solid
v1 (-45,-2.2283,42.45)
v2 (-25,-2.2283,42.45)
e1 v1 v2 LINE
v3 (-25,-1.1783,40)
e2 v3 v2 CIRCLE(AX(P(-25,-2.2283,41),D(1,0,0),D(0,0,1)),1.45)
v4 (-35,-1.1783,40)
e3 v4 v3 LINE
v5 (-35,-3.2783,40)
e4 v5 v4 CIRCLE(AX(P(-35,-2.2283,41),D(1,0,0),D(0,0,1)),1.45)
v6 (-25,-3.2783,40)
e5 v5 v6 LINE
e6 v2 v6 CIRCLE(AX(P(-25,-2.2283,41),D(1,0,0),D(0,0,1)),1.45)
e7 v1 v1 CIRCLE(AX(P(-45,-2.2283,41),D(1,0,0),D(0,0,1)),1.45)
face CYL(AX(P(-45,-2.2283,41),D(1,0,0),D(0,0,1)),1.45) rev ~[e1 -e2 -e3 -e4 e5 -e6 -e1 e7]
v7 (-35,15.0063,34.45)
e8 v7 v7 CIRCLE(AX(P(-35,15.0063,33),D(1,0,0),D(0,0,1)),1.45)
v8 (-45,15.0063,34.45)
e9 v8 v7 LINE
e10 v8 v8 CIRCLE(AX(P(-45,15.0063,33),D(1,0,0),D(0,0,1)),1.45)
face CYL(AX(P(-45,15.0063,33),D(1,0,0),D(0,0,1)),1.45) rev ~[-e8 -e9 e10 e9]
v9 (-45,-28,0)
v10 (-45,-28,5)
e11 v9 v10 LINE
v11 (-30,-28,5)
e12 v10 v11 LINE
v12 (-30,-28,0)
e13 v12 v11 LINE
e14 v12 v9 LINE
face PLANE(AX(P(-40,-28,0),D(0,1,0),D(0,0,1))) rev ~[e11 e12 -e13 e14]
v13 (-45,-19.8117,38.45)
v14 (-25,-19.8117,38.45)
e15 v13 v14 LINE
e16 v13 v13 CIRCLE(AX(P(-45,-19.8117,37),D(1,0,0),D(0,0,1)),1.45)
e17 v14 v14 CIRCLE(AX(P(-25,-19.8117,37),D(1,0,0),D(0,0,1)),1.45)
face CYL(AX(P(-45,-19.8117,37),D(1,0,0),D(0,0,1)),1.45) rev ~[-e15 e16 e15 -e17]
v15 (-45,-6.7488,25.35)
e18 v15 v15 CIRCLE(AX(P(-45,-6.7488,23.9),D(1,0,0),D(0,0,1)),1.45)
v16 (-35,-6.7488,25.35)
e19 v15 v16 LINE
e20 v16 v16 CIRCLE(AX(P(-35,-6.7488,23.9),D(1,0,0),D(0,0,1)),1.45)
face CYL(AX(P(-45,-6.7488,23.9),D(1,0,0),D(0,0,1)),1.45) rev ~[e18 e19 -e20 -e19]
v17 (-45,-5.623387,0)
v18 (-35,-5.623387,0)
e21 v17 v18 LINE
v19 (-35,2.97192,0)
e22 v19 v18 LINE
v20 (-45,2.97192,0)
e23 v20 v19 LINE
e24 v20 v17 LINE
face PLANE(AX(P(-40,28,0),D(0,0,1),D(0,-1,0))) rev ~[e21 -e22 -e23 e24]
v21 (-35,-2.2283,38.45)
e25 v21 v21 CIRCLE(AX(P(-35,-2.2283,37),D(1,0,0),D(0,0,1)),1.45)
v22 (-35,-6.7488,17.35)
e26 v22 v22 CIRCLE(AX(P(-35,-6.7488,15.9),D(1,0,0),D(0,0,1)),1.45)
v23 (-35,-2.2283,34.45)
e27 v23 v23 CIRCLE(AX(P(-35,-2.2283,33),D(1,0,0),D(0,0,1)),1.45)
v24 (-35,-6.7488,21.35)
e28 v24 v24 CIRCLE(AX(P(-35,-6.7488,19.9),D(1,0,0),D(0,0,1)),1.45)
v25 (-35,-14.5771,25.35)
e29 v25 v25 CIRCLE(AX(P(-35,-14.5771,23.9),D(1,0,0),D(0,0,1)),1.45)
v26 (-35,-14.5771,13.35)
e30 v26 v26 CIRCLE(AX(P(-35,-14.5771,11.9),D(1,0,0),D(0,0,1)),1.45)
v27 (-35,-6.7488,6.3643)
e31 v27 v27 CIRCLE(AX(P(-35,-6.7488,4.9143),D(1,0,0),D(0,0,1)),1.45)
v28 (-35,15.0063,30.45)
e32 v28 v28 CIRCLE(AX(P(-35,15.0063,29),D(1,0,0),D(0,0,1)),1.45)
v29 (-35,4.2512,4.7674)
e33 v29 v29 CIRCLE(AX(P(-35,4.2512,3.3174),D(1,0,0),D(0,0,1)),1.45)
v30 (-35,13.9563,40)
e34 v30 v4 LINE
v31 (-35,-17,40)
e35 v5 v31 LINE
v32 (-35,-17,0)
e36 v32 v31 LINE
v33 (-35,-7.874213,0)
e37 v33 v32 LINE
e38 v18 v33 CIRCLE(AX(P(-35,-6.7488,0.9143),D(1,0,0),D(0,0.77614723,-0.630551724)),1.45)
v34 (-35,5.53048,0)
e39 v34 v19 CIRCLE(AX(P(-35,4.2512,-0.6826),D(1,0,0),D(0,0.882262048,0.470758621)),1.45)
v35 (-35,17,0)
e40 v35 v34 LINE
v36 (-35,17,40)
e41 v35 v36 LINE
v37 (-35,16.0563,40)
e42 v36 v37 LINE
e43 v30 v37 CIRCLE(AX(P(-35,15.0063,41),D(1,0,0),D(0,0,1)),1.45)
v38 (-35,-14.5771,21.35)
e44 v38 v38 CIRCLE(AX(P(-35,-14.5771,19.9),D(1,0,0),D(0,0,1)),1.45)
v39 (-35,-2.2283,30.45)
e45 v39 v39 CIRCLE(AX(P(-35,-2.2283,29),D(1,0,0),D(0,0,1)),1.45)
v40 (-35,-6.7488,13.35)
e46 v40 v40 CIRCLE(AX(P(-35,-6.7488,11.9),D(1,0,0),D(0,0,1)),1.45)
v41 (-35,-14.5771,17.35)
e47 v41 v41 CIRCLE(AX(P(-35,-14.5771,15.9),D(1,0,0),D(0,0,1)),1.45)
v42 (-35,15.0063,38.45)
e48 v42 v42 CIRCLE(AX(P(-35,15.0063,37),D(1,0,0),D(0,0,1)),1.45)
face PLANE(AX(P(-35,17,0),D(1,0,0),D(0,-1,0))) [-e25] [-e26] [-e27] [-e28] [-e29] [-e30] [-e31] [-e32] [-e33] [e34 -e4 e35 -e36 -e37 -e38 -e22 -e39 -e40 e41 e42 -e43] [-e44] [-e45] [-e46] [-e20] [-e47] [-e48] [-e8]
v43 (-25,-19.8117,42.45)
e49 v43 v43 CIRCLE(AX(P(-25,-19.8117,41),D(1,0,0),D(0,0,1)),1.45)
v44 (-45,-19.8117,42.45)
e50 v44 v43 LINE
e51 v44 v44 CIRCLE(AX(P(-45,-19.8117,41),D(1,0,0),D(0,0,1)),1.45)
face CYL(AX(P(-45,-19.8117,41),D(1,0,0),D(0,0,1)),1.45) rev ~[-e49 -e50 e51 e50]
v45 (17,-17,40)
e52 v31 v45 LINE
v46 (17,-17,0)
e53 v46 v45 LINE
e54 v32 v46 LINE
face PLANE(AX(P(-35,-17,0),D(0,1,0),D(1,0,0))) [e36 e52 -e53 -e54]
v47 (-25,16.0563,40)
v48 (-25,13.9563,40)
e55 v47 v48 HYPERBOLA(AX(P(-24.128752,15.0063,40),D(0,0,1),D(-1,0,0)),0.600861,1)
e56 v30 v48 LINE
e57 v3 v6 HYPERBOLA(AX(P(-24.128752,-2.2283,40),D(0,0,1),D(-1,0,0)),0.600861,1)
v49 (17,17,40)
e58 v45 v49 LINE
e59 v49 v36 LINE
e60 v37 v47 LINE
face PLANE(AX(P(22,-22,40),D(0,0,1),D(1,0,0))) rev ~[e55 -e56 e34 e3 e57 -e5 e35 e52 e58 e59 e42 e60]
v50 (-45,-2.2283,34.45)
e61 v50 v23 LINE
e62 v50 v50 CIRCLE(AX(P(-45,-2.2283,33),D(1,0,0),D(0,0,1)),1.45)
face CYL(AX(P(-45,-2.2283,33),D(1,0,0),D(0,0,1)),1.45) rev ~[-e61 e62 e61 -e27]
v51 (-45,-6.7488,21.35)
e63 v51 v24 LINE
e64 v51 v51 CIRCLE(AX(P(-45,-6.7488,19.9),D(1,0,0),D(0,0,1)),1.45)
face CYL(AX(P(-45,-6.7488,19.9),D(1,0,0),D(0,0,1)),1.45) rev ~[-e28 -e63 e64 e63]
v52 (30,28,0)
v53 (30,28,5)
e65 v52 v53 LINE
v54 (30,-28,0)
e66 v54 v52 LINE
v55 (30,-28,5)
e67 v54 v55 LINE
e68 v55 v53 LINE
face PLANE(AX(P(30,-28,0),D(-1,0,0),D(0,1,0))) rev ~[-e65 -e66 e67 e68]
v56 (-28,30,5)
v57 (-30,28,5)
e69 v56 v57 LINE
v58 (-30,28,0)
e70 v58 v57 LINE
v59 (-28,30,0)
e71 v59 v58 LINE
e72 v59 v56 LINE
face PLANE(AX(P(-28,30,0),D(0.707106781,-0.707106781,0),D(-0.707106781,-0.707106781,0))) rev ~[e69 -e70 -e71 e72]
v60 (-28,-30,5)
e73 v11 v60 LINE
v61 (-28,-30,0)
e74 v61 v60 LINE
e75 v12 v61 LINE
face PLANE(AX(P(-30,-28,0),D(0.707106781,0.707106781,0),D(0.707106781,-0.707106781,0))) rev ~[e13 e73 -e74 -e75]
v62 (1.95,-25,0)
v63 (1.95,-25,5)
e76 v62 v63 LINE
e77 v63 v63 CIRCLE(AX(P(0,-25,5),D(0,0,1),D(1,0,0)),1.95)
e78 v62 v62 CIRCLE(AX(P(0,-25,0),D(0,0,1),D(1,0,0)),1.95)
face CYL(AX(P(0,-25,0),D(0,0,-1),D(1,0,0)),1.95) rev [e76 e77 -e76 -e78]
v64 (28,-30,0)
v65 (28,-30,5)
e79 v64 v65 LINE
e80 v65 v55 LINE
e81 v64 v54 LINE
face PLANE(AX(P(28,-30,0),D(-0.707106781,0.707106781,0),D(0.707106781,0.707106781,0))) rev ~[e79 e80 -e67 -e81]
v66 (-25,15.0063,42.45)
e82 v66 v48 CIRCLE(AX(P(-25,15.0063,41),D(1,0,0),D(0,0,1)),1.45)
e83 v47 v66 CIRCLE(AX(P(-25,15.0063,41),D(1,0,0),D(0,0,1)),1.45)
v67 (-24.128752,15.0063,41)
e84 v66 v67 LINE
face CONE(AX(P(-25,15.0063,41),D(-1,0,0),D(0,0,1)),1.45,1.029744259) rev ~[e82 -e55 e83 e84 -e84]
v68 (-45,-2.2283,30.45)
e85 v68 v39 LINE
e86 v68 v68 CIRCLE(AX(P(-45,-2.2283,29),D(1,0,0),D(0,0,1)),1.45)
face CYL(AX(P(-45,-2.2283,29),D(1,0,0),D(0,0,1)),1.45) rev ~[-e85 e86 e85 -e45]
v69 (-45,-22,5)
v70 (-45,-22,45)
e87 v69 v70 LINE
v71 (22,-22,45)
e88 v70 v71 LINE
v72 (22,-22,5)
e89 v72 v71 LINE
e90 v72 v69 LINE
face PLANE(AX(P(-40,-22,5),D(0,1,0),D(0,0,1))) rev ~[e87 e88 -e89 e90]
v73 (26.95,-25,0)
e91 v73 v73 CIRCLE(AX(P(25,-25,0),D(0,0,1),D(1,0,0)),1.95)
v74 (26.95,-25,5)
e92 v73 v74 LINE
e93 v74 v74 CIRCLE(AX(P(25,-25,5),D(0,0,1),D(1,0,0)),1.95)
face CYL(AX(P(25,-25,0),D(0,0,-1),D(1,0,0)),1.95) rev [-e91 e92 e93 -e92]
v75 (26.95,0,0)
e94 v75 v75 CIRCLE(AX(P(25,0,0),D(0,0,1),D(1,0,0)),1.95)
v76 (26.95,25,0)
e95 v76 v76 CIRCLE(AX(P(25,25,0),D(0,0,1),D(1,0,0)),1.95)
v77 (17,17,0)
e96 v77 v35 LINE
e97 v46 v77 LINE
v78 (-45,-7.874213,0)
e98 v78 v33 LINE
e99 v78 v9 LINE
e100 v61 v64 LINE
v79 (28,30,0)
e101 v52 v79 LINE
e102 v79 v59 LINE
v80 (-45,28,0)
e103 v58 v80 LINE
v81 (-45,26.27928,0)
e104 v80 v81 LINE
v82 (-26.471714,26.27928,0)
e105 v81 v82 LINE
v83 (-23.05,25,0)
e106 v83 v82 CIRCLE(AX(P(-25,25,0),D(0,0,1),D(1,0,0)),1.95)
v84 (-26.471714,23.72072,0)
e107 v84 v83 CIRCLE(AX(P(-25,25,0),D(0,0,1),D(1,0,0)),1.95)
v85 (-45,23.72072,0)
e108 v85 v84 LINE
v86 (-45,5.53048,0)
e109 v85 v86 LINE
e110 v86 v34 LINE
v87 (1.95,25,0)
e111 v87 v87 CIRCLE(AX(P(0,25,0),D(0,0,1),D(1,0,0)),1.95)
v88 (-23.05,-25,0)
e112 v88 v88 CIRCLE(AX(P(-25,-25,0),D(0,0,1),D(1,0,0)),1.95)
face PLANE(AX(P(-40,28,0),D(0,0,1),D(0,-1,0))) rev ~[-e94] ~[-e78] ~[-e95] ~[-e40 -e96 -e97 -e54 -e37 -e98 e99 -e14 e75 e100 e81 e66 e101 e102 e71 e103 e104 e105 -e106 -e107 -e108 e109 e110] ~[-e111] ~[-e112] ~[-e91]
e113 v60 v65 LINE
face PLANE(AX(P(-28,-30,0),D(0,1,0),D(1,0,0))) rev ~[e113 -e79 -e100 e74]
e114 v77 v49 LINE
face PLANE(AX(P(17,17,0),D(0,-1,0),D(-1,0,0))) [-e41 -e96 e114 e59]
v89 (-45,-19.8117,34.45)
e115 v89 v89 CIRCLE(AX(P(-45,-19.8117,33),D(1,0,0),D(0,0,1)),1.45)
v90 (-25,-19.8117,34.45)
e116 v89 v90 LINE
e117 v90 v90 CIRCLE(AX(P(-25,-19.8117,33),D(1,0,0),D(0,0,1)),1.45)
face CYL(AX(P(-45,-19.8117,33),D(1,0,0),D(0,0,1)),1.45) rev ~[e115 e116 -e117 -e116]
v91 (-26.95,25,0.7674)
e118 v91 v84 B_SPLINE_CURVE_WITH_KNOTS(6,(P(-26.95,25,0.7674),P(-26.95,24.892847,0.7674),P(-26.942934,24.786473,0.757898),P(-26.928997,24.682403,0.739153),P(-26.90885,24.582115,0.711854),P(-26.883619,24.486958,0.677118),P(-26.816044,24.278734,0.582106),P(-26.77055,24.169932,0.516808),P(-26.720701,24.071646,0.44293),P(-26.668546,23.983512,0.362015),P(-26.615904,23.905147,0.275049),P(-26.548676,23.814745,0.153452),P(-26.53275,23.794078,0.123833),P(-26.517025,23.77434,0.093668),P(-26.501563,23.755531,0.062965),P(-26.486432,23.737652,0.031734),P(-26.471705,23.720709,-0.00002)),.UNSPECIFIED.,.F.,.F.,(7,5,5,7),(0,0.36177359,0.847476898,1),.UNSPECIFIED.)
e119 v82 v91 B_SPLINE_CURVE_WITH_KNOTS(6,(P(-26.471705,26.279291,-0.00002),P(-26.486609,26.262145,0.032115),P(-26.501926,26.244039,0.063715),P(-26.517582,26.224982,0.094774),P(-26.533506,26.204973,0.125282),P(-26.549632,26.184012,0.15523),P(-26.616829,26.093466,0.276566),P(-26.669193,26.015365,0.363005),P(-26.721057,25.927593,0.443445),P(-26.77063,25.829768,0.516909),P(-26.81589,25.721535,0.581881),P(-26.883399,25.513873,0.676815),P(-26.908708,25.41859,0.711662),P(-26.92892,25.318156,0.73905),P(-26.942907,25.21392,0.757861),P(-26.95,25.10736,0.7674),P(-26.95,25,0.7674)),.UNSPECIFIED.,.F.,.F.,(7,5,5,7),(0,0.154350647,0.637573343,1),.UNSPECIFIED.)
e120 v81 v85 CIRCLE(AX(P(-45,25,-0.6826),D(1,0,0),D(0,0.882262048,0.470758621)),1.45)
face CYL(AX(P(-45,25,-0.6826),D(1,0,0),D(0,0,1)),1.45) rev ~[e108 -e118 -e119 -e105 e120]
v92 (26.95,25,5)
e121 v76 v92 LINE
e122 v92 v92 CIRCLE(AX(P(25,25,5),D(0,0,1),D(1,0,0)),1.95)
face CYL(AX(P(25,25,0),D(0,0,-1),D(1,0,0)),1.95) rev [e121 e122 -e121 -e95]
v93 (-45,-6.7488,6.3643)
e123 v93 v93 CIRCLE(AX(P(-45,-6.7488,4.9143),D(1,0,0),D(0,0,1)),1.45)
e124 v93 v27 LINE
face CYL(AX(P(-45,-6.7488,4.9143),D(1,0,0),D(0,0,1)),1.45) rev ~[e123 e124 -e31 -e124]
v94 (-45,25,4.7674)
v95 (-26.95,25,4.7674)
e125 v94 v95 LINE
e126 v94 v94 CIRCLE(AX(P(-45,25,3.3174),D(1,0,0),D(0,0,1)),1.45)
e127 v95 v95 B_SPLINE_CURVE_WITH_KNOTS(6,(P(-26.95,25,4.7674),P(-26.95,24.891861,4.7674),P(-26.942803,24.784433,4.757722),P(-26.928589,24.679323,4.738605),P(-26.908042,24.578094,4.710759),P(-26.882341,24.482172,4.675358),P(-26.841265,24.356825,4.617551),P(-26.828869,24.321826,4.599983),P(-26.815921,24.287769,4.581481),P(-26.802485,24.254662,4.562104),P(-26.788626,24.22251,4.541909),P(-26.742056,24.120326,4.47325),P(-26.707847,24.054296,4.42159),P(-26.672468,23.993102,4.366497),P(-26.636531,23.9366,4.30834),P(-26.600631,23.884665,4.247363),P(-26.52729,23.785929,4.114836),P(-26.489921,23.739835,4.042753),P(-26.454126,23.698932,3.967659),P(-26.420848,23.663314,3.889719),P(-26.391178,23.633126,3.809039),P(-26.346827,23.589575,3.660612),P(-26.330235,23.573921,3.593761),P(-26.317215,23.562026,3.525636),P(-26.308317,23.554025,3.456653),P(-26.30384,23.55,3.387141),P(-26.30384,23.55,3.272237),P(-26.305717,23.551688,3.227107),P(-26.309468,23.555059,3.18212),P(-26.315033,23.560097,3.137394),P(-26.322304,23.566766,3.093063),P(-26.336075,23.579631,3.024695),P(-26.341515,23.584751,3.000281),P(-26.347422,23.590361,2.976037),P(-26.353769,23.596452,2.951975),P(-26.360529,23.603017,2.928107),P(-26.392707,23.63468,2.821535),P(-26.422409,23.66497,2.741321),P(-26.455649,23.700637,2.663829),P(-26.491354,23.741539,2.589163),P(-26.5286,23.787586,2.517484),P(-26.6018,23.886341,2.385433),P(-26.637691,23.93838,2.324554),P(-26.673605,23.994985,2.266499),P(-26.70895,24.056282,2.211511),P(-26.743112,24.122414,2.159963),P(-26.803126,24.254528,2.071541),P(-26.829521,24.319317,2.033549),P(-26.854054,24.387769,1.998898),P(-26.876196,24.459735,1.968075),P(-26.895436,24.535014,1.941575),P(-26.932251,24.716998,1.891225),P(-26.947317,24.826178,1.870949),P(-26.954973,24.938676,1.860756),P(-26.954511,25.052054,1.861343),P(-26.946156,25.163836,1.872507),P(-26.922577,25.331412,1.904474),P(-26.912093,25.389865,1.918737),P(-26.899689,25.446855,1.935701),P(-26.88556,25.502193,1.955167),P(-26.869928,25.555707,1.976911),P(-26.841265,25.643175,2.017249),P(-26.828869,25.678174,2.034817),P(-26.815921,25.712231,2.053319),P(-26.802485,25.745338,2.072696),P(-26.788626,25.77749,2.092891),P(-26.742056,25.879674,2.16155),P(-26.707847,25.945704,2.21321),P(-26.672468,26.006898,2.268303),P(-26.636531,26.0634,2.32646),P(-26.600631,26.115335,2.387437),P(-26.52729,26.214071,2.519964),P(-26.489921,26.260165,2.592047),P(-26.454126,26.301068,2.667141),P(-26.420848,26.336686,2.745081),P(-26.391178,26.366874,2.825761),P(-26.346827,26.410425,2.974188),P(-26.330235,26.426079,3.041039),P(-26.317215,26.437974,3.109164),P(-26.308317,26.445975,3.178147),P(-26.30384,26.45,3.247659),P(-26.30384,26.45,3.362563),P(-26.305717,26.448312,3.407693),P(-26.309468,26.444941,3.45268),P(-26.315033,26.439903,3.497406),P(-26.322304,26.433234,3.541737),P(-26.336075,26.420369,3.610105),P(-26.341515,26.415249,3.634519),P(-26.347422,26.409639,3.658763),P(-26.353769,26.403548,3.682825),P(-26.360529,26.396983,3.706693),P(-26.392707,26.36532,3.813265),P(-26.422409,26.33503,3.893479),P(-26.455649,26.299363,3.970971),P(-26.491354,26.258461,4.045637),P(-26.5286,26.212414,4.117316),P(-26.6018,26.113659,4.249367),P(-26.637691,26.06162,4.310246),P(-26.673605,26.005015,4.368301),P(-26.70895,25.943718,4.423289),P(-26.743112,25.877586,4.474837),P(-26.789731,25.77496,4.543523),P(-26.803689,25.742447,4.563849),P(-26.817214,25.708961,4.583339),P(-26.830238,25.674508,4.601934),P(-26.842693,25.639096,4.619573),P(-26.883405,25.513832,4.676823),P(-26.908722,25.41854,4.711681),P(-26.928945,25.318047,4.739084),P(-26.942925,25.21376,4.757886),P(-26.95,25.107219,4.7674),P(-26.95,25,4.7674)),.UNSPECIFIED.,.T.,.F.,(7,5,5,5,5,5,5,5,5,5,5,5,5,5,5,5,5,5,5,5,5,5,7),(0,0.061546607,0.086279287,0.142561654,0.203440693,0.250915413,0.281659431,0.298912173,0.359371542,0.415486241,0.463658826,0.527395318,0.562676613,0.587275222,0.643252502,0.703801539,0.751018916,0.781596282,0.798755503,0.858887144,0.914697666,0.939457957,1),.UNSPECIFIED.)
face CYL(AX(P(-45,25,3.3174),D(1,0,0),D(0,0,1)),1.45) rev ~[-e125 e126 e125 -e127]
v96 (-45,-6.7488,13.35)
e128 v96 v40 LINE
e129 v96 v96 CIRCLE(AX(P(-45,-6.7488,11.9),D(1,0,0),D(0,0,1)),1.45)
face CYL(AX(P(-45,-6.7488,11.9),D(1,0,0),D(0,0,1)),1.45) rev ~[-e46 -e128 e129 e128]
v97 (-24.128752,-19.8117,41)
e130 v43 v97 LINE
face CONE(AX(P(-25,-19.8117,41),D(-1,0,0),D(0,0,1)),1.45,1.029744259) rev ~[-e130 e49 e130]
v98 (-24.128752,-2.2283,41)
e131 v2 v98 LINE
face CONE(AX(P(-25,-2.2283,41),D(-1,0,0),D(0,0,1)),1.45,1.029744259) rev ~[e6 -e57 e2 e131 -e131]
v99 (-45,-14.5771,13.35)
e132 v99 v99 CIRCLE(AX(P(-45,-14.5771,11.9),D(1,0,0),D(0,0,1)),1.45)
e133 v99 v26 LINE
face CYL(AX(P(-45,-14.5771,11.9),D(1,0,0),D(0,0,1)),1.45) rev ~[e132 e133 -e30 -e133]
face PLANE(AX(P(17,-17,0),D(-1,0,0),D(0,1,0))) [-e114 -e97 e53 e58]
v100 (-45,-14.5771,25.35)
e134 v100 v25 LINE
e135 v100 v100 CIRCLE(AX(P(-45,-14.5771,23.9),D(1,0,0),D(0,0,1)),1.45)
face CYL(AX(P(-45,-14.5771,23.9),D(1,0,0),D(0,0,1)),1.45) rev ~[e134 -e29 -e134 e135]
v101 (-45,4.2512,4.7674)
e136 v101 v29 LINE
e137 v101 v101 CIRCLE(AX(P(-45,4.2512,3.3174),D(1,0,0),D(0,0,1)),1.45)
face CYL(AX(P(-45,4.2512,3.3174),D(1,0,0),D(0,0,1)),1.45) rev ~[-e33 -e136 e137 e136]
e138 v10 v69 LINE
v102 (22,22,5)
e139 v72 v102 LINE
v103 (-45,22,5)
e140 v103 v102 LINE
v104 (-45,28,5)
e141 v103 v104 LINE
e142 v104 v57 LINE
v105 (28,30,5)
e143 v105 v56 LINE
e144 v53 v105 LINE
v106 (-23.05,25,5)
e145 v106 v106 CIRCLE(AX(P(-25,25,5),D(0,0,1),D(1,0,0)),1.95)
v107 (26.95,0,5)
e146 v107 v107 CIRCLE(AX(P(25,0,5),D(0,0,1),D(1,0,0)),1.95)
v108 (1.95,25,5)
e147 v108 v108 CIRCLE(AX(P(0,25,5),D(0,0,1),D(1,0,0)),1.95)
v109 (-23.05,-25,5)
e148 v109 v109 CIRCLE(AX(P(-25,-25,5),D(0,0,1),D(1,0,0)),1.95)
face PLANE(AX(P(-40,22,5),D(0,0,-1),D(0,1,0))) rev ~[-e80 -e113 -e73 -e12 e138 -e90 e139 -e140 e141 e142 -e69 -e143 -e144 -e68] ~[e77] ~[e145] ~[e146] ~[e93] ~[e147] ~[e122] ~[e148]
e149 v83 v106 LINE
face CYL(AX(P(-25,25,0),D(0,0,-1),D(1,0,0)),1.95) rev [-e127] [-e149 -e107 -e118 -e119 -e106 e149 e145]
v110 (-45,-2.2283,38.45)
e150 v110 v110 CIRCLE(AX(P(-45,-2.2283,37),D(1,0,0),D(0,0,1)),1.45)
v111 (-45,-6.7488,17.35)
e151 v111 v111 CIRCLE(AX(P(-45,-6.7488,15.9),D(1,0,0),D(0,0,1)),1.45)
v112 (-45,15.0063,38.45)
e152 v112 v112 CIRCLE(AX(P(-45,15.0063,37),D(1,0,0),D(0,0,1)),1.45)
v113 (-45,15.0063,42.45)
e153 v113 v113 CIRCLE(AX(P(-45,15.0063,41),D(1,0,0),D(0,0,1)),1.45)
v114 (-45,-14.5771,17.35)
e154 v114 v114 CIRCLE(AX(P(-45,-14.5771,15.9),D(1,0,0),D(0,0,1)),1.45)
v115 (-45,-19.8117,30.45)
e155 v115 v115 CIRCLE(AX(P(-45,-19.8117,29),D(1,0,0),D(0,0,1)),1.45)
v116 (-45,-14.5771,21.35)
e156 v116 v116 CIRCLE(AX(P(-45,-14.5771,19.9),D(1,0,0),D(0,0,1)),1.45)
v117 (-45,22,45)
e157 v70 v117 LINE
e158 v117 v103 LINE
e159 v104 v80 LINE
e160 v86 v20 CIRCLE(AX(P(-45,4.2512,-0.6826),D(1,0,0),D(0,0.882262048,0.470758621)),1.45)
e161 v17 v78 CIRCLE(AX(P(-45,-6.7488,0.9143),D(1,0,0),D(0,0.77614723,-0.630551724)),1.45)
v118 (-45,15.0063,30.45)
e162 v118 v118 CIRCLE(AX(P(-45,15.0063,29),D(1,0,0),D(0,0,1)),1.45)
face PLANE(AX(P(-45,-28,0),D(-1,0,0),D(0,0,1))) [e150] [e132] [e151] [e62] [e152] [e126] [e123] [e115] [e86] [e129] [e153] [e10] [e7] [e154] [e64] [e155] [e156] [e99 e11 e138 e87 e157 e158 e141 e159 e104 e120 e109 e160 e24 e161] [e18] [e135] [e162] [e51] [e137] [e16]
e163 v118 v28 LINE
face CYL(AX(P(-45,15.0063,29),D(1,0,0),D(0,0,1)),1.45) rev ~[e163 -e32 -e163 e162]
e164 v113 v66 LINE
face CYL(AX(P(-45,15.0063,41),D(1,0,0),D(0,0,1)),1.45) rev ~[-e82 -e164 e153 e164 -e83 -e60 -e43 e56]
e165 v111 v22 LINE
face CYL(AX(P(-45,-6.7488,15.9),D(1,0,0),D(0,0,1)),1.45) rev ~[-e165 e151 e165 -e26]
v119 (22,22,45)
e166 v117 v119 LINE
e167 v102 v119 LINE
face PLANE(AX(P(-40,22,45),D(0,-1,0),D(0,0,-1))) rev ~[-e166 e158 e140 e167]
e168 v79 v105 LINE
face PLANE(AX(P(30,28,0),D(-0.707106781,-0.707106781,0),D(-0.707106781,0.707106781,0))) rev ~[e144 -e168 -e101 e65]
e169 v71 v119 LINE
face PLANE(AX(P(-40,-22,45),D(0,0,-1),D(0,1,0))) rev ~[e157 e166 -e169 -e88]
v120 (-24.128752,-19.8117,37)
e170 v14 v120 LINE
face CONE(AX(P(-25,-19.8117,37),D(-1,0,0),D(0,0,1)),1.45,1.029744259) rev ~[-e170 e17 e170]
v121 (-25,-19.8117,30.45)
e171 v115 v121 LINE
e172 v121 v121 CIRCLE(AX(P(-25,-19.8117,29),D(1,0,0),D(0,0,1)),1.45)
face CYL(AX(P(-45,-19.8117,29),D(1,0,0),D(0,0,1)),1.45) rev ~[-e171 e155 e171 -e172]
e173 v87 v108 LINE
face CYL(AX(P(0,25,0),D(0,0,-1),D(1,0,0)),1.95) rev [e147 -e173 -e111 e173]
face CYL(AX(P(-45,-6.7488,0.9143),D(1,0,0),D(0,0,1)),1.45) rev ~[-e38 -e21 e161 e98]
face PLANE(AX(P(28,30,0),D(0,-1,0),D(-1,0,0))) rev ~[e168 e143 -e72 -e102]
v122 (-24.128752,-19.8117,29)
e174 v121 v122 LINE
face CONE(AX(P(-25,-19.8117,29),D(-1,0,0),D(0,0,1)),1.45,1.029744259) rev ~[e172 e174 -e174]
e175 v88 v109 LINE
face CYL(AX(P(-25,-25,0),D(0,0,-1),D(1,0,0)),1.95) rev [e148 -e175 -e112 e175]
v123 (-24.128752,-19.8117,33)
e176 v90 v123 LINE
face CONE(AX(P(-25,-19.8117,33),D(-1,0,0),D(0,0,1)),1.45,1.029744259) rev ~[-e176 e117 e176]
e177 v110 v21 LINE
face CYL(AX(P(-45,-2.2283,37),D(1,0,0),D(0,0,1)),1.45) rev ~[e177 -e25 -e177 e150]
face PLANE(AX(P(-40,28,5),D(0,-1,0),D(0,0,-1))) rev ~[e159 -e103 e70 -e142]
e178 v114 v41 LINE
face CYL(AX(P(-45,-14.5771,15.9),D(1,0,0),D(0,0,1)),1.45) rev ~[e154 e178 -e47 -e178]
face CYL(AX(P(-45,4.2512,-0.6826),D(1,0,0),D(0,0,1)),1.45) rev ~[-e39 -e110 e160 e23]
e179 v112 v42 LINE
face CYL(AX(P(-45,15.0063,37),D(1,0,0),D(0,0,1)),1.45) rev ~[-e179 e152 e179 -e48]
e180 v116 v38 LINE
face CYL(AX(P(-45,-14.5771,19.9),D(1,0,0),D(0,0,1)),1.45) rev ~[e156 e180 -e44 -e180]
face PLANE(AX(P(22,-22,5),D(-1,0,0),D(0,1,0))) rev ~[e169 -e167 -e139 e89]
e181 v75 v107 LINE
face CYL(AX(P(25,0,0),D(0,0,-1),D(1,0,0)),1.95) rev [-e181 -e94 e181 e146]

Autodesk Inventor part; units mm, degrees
ref_plane "YZ Plane" through (0, 0, 0) normal (1, 0, 0) x (0, 1, 0)
ref_plane "XZ Plane" through (0, 0, 0) normal (0, 1, 0) x (-1, 0, 0)
ref_plane "Work Plane1" through (0, 0, 0) normal (0, 0, 1) x (1, 0, 0)
sketch "Sketch1" plane through (0, 0, 0) normal (0, 0, 1) x (1, 0, 0)
  circle A0 centre (25, 25) radius 1.95 projected
  circle A1 centre (25, 0) radius 1.95 projected
  circle A2 centre (0, 25) radius 1.95 projected
  circle A3 centre (-25, 0) radius 1.95 projected
  circle A4 centre (-25, -25) radius 1.95 projected
  circle A5 centre (25, 25) radius 1.95 projected
  circle A6 centre (25, -25) radius 1.95 projected
  circle A7 centre (-25, 25) radius 1.95 projected
  circle A8 centre (25, 0) radius 1.95 projected
  circle A9 centre (0, -25) radius 1.95 projected
  line L0 (-28, 30) -> (-30, 28) projected
  line L1 (-30, 28) -> (-30, -28) projected
  line L2 (-30, -28) -> (-28, -30) projected
  line L3 (-28, -30) -> (28, -30) projected
  line L4 (28, -30) -> (30, -28) projected
  line L5 (30, -28) -> (30, 28) projected
  line L6 (30, 28) -> (28, 30) projected
  line L7 (28, 30) -> (-28, 30) projected
  point P0 (0, 0)
extrude "Extrusion1" add sketch "Sketch1" along normal blind 5
sketch "Sketch2" plane through (0, 0, 5) normal (0, 0, 1) x (1, 0, 0)
  circle A0 centre (0, -25) radius 1.95 projected
  circle A1 centre (-25, 25) radius 1.95 projected
  circle A2 centre (25, -25) radius 1.95 projected
  circle A3 centre (-25, -25) radius 1.95 projected
  circle A4 centre (-25, 0) radius 1.95 projected
  circle A5 centre (0, 25) radius 1.95 projected
  circle A6 centre (25, 0) radius 1.95 projected
  circle A7 centre (25, 25) radius 1.95 projected
  line L0 (-28, 30) -> (-30, 28) projected
  line L1 (-30, 28) -> (-30, -28) projected
  line L2 (-30, -28) -> (-28, -30) projected
  line L3 (-28, -30) -> (28, -30) projected
  line L4 (28, -30) -> (30, -28) projected
  line L5 (30, -28) -> (30, 28) projected
  line L6 (30, 28) -> (28, 30) projected
  line L7 (28, 30) -> (-28, 30) projected
  line L8 (-30, 28) -> (-30, -28) projected
  line L9 (-30, -22) -> (22, -22)
  line L10 (22, -22) -> (22, 22)
  line L11 (22, 22) -> (-30, 22)
  line L12 (-30, 22) -> (-30, -22)
  point P0 (0, 0)
  dimension "d2" = 8
  dimension "d3" = 8
  dimension "d4" = 8
ref_plane "Work Plane2" through (-93.15, -42.6288, 31.9788) normal (0, 0, -1) x (0, 1, 0)
extrude "Extrusion2" add sketch "Sketch2" along normal blind 40 contours A4 | L11 L10 L9 L1
sketch "Sketch3" plane through (-30, -28, 0) normal (-1, 0, 0) x (0, 0, 1)
  line L0 (0, 56) -> (0, 0) projected
  line L1 (0, 0) -> (5, 0) projected
  line L2 (5, 6) -> (5, 0) projected
  line L3 (5, 6) -> (45, 6) projected
  line L4 (5, 50) -> (45, 50) projected
  line L5 (5, 56) -> (5, 50) projected
  line L6 (0, 56) -> (5, 56) projected
  line L7 (45, 50) -> (45, 6) projected
  point P0 (0, 28)
extrude "Extrusion3" add sketch "Sketch3" along normal blind 10
sketch "Sketch4" plane through (22, -22, 0) normal (0, 0, 1) x (1, 0, 0)
  line L0 (-62, 0) -> (0, 0) projected
  line L1 (0, 44) -> (-62, 44) projected
  line L2 (-62, 0) -> (-62, 44) projected
  arc A0 (-111.65, 45.2512) -> (-115.15, 41.7512) centre (-111.65, 41.7512) ccw projected
  line L3 (-115.15, -17.1288) -> (-115.15, 41.7512) projected
  arc A1 (-115.15, -17.1288) -> (-111.65, -20.6288) centre (-111.65, -17.1288) ccw projected
  line L4 (28.35, -20.6288) -> (-111.65, -20.6288) projected
  arc A2 (28.35, -20.6288) -> (31.85, -17.1288) centre (28.35, -17.1288) ccw projected
  line L5 (31.85, 41.7512) -> (31.85, -17.1288) projected
  arc A3 (31.85, 41.7512) -> (28.35, 45.2512) centre (28.35, 41.7512) ccw projected
  line L6 (-111.65, 45.2512) -> (28.35, 45.2512) projected
  line L7 (0, 0) -> (0, 44) projected
  line L8 (-62, 44) -> (0, 44)
  line L9 (0, 44) -> (0, 0)
  line L10 (0, 0) -> (-62, 0)
  line L11 (-62, 0) -> (-62, 44)
  line L12 (-5, 39) -> (-57, 39)
  line L13 (-57, 39) -> (-57, 5)
  line L14 (-57, 5) -> (-5, 5)
  line L15 (-5, 5) -> (-5, 39)
  point P0 (-22, 22)
  dimension "d9" = 5
extrude "Extrusion4" cut sketch "Sketch4" along normal blind 40 contours L15 L14 L13 L12
sketch "Sketch6" plane through (-40, -28, 0) normal (-1, 0, 0) x (0, 0, 1)
  line L0 (0, 56) -> (0, 0) projected
  line L1 (0, 0) -> (5, 0) projected
  line L2 (5, 0) -> (5, 6) projected
  line L3 (5, 6) -> (45, 6) projected
  line L4 (45, 50) -> (5, 50) projected
  line L5 (5, 50) -> (5, 56) projected
  line L6 (5, 56) -> (0, 56) projected
  line L7 (45, 6) -> (45, 50) projected
  point P0 (0, 28)
extrude "Extrusion6" add sketch "Sketch6" along normal blind 5
sketch "Sketch7" plane through (-45, -28, 0) normal (-1, 0, 0) x (0, 0, 1)
  circle A0 centre (41, 25.7717) radius 1.45 projected
  circle A1 centre (23.9, 21.2512) radius 1.45 projected
  circle A2 centre (3.3174, 32.2512) radius 1.45 projected
  circle A3 centre (3.3174, 53) radius 1.45 projected
  line L0 (40, 45) -> (40, 11) projected
  circle A4 centre (41, 8.1883) radius 1.45 projected
  circle A5 centre (4.9143, 21.2512) radius 1.45 projected
  circle A6 centre (23.9337, 3.5995) radius 1.45 projected
  circle A7 centre (41, 25.7717) radius 1.45 projected
  circle A8 centre (41.0502, 56) radius 1.45 projected
  circle A9 centre (41, 0.7395) radius 1.45 projected
  circle A10 centre (23.9, 21.2512) radius 1.45 projected
  circle A11 centre (23.9, 13.4229) radius 1.45 projected
  circle A12 centre (41, 43.0063) radius 1.45 projected
  line L1 (37.1004, -11.7636) -> (45, -11.7636) projected
  line L2 (45, -11.7636) -> (45, 58) projected
  line L3 (26.9, 58) -> (26.9, 25.2512) projected
  line L4 (26.9, 25.2512) -> (-10.2763, 25.2512) projected
  line L5 (-10.2763, 25.2512) -> (37.1004, -11.7636) projected
  line L6 (45, 58) -> (26.9, 58) projected
  point P0 (0, 28)
  point P1 (4.6577, 21.4172)
hole "Hole1" at (-45, 15.0063, 41) at (-45, -2.2283, 41) at (-45, -19.8117, 41) at (-45, -14.5771, 23.9) at (-45, -6.7488, 23.9) at (-45, 4.2512, 3.3174) at (-45, 25, 3.3174) at (-45, -6.7488, 4.9143) direction (1, 0, 0) diameter 2.9 depth 20 tip angle 118
pattern_linear "Rectangular Pattern1" count 4 spacing 4 along (0, 0, -1) of "Hole1"
properties part number "cellSTORM_v5_cellphonestage"
